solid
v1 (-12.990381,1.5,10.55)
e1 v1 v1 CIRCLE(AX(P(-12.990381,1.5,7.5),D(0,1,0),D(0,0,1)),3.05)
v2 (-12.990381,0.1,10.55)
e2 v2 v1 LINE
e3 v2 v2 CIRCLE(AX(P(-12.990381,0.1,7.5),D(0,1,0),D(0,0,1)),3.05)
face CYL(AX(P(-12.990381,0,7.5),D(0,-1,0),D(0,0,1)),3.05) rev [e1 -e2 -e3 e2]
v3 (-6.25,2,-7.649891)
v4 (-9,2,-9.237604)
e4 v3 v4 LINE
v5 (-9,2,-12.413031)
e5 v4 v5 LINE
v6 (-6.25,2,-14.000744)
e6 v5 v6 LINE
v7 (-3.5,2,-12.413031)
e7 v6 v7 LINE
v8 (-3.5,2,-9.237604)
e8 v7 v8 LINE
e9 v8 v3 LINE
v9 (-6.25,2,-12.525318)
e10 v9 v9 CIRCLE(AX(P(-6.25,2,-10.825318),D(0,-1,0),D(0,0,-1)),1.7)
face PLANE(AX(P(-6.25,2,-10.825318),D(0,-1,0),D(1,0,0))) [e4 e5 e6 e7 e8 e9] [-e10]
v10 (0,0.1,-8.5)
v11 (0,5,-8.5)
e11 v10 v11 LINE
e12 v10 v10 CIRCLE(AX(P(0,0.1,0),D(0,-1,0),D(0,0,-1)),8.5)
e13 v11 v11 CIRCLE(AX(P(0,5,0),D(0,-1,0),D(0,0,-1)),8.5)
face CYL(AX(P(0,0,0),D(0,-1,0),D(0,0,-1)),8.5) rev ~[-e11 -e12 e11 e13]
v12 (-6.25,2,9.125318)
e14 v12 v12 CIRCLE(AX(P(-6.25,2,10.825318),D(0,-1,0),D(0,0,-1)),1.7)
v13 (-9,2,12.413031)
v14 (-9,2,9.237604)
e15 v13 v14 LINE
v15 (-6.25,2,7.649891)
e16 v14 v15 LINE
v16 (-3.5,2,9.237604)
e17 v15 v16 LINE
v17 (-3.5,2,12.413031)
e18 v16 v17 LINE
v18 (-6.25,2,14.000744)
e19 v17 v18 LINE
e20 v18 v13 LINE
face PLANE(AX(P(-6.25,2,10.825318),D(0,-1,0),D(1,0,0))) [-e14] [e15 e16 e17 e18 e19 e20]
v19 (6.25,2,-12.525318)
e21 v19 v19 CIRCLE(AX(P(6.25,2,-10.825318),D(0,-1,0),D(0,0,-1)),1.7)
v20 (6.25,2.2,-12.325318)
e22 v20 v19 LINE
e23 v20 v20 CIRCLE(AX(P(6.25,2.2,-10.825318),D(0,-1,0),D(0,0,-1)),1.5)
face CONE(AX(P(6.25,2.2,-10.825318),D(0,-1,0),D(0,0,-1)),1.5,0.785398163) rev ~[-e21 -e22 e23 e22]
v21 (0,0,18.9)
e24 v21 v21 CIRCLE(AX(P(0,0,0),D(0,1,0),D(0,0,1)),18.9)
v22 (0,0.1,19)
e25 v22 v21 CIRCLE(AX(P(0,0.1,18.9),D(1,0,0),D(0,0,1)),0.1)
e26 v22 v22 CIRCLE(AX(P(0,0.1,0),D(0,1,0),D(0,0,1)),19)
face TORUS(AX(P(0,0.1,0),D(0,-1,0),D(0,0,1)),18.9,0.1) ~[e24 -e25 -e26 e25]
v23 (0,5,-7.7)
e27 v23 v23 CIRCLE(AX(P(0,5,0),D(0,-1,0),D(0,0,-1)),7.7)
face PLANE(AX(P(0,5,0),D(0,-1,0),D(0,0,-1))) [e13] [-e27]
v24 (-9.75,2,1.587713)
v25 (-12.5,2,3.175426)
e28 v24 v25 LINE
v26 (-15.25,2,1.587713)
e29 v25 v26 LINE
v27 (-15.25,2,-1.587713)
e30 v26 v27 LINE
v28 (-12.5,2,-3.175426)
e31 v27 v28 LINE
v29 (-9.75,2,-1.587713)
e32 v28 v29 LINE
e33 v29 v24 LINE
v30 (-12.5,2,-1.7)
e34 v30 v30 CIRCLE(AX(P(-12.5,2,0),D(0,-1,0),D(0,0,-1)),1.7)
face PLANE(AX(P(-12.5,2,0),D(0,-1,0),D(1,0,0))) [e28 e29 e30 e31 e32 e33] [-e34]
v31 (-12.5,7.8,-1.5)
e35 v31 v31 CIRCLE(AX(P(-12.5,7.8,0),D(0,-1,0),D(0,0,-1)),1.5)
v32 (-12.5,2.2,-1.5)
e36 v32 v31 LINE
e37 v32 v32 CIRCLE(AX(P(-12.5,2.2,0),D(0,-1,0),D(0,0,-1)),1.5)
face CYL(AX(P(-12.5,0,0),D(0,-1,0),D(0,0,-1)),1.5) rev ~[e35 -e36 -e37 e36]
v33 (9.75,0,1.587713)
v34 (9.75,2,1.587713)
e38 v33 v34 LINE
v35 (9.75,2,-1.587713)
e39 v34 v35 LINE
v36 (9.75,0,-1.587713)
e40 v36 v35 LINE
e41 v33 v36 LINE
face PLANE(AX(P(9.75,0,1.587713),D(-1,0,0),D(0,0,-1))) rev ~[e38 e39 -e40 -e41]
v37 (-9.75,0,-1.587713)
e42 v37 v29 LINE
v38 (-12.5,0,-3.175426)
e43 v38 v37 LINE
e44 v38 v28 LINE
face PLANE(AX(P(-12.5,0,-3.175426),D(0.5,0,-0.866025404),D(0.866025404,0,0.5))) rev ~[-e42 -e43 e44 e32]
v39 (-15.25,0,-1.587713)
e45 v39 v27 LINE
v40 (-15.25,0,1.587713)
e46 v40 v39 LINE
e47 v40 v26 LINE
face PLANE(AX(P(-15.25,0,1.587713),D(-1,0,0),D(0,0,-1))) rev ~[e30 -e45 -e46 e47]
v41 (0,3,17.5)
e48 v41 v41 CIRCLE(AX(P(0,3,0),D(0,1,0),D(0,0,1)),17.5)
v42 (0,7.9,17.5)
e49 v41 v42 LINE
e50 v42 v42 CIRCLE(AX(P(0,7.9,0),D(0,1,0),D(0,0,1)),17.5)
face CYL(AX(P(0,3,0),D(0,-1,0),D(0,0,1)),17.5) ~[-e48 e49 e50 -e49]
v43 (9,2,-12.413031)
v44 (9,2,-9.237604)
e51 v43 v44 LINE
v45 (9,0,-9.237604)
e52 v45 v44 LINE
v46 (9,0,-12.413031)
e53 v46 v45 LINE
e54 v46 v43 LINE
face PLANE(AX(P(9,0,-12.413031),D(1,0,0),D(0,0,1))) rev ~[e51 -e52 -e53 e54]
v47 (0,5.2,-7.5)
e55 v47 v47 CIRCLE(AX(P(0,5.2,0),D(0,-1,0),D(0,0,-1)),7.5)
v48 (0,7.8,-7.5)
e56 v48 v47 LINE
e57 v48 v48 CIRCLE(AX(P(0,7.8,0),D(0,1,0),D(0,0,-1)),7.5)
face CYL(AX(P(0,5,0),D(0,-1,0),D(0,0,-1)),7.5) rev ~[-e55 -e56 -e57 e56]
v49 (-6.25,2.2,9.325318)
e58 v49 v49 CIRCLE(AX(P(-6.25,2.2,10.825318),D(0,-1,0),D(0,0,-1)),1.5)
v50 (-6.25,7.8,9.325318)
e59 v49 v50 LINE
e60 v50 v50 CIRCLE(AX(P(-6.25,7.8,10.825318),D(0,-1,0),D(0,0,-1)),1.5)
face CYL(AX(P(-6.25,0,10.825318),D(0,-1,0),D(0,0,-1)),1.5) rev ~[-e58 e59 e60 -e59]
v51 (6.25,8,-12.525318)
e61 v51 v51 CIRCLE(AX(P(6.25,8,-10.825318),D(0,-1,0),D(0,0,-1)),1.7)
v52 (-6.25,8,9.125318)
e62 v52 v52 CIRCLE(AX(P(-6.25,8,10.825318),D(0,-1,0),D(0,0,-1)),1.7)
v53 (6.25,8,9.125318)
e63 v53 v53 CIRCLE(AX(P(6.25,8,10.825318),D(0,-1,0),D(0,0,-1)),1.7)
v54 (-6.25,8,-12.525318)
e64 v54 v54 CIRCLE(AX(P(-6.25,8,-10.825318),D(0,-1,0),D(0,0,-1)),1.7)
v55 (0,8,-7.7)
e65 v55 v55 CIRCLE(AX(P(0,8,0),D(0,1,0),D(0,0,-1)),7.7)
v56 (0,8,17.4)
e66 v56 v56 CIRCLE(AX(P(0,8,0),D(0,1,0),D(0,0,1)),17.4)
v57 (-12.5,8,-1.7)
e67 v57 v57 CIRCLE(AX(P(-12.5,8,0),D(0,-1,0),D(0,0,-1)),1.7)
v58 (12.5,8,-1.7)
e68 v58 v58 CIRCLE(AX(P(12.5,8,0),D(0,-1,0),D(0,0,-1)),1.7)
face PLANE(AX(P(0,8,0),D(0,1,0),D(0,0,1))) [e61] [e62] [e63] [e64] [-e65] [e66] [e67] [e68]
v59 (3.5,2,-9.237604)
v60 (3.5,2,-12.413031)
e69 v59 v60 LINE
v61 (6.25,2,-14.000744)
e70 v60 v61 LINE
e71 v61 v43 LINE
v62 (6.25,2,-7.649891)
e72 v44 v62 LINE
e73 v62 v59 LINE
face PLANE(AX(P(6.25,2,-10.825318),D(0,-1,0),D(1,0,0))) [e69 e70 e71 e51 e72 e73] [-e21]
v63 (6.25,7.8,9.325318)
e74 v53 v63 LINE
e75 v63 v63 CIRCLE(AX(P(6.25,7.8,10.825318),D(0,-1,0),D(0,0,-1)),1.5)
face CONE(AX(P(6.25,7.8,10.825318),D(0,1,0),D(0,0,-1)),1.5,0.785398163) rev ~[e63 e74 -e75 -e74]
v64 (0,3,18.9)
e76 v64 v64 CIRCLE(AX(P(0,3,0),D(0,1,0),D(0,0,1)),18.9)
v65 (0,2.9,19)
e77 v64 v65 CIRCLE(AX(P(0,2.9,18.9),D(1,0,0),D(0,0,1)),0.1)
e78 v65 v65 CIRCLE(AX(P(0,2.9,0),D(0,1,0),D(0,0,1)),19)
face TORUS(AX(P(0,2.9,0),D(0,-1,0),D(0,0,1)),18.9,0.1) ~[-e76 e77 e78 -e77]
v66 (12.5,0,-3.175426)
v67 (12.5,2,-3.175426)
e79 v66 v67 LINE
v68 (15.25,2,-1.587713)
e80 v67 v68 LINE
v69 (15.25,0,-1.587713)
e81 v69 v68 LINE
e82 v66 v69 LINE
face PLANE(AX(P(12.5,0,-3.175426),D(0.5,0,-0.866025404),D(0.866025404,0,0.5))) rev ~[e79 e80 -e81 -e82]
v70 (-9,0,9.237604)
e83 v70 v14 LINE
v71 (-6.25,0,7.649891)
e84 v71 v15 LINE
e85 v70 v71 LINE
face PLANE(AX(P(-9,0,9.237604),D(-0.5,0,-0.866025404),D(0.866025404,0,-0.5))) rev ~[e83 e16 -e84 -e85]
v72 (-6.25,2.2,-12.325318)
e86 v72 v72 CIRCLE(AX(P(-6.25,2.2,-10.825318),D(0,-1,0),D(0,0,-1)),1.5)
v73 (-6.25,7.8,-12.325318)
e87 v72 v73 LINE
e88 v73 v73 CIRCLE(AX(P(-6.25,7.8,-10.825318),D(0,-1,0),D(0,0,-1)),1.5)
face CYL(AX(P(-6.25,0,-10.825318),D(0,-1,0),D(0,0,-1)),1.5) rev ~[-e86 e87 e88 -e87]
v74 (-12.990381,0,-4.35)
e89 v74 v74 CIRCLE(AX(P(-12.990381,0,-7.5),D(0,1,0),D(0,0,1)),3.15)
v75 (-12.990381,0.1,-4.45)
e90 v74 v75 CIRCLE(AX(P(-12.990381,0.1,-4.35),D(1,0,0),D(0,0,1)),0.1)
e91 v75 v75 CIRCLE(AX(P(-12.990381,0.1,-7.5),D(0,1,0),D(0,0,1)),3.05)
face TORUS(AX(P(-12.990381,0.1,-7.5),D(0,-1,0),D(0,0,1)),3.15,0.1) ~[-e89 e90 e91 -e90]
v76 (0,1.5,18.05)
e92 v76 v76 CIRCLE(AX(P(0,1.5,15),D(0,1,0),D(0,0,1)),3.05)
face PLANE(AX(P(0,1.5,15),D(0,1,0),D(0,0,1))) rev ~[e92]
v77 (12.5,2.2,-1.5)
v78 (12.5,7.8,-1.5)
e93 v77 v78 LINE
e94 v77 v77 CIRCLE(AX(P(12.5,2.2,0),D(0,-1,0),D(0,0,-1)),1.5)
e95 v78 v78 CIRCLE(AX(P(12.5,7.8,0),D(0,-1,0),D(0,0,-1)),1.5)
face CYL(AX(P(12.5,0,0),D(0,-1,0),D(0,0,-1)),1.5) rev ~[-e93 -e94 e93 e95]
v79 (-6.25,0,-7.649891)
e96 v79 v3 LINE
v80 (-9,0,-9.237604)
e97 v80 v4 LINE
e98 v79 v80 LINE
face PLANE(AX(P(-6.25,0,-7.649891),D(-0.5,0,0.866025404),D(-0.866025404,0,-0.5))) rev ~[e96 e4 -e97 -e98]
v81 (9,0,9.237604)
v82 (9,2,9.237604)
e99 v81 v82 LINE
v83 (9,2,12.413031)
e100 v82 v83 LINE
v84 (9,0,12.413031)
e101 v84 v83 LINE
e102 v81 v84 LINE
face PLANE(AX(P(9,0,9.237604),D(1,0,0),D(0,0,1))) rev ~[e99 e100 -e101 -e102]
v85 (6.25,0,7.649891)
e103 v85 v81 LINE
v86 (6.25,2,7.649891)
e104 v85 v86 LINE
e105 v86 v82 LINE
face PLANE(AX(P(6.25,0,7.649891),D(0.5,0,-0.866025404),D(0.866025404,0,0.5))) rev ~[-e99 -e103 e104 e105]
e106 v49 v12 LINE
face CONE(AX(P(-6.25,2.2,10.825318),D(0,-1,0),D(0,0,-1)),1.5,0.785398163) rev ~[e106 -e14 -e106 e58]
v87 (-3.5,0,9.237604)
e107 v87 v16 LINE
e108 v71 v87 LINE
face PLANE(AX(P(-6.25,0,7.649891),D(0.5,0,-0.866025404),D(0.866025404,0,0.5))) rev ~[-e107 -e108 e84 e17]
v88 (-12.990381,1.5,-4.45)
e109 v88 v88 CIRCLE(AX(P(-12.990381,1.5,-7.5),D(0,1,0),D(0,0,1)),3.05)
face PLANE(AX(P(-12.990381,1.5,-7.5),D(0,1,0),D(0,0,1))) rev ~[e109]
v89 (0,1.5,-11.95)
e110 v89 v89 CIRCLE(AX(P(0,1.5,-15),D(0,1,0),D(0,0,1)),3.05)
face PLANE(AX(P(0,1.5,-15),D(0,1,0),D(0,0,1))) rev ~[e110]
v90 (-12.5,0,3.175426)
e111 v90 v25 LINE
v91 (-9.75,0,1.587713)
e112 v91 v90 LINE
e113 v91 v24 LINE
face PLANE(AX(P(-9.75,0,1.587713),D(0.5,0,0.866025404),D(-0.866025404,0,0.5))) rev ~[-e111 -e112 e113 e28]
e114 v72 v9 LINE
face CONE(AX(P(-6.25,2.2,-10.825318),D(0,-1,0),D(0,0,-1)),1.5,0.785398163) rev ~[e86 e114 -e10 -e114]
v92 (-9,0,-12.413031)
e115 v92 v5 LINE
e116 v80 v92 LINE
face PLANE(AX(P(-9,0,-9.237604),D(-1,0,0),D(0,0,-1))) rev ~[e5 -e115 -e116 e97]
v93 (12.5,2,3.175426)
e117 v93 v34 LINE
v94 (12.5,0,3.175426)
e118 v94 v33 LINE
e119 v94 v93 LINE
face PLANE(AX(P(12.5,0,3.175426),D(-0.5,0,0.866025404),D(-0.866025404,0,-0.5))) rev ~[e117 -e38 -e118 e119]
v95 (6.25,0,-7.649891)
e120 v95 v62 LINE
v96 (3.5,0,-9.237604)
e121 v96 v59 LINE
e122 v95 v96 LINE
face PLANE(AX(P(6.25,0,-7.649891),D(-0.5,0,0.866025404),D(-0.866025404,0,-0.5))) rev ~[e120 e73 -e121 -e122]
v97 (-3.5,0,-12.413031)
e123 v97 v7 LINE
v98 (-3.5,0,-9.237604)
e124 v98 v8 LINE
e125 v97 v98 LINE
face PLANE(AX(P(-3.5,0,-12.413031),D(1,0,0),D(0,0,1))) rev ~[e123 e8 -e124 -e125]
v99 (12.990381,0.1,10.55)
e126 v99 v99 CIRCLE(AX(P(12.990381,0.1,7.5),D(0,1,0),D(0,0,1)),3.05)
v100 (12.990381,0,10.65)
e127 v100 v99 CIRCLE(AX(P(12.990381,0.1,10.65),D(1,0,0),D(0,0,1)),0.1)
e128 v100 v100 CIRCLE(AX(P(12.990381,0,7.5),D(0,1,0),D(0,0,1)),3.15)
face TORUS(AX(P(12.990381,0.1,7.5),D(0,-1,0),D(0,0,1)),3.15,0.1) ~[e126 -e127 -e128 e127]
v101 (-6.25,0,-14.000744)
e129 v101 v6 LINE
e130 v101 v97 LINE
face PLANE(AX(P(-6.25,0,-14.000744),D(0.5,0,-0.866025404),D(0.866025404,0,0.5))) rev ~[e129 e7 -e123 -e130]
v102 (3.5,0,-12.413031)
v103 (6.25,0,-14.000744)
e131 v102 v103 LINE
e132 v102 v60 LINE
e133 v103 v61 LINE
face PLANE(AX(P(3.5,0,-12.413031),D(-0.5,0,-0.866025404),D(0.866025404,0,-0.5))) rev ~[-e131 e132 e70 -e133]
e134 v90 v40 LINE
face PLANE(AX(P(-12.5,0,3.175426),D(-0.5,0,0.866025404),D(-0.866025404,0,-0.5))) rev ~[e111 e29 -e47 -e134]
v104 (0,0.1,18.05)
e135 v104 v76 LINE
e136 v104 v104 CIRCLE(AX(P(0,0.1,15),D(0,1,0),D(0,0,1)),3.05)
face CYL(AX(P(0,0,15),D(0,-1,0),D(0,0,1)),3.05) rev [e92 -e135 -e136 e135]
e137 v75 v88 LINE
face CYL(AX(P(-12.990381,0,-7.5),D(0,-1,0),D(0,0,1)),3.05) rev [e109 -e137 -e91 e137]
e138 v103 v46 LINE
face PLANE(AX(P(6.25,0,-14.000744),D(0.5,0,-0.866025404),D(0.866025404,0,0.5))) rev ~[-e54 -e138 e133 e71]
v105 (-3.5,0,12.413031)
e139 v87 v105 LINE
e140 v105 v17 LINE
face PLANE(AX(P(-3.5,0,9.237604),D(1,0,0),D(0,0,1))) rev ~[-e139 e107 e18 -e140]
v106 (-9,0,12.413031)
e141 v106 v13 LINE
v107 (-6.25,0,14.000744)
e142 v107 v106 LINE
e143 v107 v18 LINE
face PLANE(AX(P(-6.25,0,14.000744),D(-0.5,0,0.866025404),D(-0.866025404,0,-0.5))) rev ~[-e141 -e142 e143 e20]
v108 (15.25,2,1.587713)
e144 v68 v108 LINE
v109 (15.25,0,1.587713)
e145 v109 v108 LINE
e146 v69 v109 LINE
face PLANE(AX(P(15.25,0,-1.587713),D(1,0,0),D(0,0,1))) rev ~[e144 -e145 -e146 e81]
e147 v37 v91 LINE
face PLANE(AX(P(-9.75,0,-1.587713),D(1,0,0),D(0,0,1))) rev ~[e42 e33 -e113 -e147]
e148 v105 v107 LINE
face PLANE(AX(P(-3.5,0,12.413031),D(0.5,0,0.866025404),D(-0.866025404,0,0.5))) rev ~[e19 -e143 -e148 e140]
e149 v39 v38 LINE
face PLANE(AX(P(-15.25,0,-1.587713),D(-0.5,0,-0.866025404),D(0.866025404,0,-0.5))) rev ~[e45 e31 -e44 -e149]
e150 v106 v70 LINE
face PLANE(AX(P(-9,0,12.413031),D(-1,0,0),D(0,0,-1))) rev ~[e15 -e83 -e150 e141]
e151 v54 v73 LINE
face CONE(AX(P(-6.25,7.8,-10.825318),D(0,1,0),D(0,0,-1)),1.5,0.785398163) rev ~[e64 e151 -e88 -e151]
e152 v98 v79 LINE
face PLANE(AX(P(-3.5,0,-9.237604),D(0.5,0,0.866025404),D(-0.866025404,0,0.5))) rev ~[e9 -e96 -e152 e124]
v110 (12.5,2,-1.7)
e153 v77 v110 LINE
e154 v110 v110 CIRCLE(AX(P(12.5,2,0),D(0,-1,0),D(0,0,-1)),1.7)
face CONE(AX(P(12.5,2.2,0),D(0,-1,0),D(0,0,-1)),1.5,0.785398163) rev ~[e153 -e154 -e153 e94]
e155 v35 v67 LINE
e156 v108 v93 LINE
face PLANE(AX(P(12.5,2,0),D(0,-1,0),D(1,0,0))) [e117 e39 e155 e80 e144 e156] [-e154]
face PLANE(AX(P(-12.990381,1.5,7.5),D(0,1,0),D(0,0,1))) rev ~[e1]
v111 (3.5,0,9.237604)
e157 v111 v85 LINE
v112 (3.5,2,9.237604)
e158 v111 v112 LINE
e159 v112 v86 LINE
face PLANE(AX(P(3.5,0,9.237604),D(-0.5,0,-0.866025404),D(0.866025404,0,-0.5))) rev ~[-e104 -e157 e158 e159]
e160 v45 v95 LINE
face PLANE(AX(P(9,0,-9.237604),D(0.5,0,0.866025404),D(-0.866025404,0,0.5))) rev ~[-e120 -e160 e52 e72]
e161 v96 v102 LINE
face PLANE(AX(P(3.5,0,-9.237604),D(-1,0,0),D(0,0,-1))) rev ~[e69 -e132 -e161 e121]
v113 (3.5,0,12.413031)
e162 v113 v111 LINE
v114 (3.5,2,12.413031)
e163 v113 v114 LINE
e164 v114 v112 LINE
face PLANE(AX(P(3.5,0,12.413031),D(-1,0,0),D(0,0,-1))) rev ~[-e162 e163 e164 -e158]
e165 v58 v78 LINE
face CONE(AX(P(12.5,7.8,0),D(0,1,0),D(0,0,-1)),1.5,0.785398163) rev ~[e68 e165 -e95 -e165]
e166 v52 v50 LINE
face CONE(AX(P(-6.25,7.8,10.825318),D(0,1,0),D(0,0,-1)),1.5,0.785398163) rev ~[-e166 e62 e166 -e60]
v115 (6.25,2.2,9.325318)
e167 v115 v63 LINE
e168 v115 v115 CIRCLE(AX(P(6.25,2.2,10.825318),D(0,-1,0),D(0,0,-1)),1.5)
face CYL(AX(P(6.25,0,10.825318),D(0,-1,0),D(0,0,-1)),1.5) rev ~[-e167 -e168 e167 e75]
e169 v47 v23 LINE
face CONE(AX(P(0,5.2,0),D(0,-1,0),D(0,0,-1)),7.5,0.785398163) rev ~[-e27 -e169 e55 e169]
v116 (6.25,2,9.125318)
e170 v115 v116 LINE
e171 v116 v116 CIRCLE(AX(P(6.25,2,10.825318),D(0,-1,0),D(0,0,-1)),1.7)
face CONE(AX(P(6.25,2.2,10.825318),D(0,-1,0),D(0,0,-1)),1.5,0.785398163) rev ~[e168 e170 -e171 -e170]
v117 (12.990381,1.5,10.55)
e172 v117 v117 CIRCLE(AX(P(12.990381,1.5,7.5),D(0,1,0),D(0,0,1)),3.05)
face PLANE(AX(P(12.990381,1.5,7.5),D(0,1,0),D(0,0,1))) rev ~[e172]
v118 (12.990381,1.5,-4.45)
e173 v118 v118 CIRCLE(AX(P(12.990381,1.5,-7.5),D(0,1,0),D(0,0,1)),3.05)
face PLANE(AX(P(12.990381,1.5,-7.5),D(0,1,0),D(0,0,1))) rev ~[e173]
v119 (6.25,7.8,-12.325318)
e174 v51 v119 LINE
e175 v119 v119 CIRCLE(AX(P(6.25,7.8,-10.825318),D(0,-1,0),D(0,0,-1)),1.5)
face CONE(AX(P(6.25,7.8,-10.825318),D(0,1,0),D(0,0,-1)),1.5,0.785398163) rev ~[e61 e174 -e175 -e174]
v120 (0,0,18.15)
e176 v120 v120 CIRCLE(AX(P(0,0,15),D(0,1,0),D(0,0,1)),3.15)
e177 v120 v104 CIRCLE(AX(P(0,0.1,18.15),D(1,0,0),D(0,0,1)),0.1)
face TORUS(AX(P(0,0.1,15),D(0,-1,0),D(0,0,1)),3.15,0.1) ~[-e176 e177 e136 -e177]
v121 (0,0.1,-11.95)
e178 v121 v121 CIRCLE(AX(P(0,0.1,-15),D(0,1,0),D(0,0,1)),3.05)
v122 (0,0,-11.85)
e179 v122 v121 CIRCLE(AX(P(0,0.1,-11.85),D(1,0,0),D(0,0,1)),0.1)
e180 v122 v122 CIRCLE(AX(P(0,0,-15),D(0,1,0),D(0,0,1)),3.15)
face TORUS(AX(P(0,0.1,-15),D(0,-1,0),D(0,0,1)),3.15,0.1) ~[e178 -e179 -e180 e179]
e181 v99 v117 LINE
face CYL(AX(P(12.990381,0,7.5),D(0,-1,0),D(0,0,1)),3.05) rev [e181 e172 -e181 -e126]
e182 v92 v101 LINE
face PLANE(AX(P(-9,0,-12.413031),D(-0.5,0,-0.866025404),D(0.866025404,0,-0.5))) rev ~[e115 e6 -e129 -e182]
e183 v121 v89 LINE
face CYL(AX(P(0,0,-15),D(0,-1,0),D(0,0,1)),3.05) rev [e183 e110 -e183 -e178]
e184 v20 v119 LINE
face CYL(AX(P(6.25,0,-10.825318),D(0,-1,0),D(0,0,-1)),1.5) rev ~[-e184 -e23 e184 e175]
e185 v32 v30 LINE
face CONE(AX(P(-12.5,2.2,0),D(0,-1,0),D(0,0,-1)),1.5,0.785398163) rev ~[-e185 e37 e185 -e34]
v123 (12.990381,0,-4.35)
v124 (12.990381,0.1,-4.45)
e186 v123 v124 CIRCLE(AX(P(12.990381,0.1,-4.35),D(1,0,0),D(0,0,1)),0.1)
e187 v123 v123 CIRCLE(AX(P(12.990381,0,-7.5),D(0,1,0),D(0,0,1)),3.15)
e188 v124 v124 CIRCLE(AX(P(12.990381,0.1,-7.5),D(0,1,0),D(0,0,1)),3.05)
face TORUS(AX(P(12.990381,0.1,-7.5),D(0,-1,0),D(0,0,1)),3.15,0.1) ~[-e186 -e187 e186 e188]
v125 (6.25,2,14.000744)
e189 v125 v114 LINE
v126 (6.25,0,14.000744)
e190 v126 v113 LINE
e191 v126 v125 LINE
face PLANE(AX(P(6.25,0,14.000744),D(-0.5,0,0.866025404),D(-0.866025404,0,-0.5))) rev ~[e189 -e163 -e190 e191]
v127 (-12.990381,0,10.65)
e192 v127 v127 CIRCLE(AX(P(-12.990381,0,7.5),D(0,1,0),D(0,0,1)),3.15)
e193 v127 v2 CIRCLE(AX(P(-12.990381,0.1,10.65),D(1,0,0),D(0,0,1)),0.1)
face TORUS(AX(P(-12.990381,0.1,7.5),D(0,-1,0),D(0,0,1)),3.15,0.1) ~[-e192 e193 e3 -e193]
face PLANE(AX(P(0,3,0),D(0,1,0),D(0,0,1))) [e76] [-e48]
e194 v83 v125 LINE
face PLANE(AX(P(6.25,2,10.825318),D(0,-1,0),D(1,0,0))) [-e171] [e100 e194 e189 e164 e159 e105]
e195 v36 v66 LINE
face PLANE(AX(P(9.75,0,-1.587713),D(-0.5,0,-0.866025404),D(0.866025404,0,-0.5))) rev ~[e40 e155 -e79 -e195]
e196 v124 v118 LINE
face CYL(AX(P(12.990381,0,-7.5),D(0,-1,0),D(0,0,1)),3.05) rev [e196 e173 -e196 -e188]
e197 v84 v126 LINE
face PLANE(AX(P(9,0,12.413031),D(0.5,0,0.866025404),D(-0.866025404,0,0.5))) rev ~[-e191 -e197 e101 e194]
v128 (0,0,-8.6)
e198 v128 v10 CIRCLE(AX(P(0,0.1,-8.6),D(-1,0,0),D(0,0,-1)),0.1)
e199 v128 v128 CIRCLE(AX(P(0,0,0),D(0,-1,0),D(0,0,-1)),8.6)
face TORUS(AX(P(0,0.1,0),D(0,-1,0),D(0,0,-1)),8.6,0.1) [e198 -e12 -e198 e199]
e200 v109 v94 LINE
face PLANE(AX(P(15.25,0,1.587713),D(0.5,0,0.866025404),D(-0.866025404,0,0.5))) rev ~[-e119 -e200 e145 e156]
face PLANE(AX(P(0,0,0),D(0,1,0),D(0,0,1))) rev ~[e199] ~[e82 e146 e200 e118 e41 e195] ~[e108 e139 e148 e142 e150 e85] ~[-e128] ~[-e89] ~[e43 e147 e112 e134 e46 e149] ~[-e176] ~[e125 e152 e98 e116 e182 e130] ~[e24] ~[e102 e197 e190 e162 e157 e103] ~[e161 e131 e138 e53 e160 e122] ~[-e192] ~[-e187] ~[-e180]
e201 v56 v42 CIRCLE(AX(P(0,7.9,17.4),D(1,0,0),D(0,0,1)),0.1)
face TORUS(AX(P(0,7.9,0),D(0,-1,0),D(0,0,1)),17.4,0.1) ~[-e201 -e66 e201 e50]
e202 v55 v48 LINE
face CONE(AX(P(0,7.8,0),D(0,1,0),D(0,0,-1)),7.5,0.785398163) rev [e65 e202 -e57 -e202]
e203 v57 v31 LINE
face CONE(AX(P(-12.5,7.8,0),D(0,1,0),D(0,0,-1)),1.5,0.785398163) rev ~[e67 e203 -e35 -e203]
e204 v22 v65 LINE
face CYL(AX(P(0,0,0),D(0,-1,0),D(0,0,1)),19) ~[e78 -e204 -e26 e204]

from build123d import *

# Parameters (mm, degrees)
SKETCH_1_R          = 19
EXTRUDE_1_DEPTH     = 3
SKETCH_1_3_R        = 3.05
CUT_EXTRUDE_1_DEPTH = 1.5
SKETCH_5_R          = 17.5
EXTRUDE_3_DEPTH     = 5
SKETCH_7_R          = 8.5
CUT_EXTRUDE_2_DEPTH = 5
SKETCH_8_R          = 7.5
CUT_EXTRUDE_3_DEPTH = 0.5
CUT_EXTRUDE_4_REACH = 30.036
SKETCH_10_R         = 1.5
CUT_EXTRUDE_5_DEPTH = 2
CUT_EXTRUDE_6_REACH = 30.036
SKETCH_12_R         = 7.5
CHAMFER_1_SIZE      = 0.2
FILLET_1_R          = 0.1
FILLET_2_R          = 0.1


with BuildPart() as part:
    # 草图1 → 凸台-拉伸1 (new body)
    with BuildSketch(Plane(origin=(0, 0, 0), x_dir=(1, 0, 0), z_dir=(0, 1, 0))):
        Circle(SKETCH_1_R)
    extrude(amount=EXTRUDE_1_DEPTH)

    # 草图1<3> → 切除-拉伸1 (cut)
    with BuildSketch(Plane(origin=(0, 0, 0), x_dir=(1, 0, 0), z_dir=(0, 1, 0))):
        with Locations((0, 15)):
            Circle(SKETCH_1_3_R)
        with Locations((12.990381057, 7.5)):
            Circle(SKETCH_1_3_R)
        with Locations((12.990381057, -7.5)):
            Circle(SKETCH_1_3_R)
        with Locations((0, -15)):
            Circle(SKETCH_1_3_R)
        with Locations((-12.990381057, -7.5)):
            Circle(SKETCH_1_3_R)
        with Locations((-12.990381057, 7.5)):
            Circle(SKETCH_1_3_R)
    extrude(amount=CUT_EXTRUDE_1_DEPTH, mode=Mode.SUBTRACT)

    # 草图5 → 凸台-拉伸3 (add)
    with BuildSketch(Plane(origin=(0, 3, 0), x_dir=(1, 0, 0), z_dir=(0, 1, 0))):
        Circle(SKETCH_5_R)
    extrude(amount=EXTRUDE_3_DEPTH)

    # 草图7 → 切除-拉伸2 (cut)
    with BuildSketch(Plane.XZ):
        Circle(SKETCH_7_R)
    extrude(amount=-CUT_EXTRUDE_2_DEPTH, mode=Mode.SUBTRACT)

    # 草图8 → 切除-拉伸3 (cut)
    with BuildSketch(Plane.XZ.offset(-5)):
        Circle(SKETCH_8_R)
    extrude(amount=-CUT_EXTRUDE_3_DEPTH, mode=Mode.SUBTRACT)

    # 草图10 → 切除-拉伸4 (cut, up to next)
    with BuildSketch(Plane.XZ, mode=Mode.PRIVATE) as cut_extrude_4_sk1:
        with Locations((6.25, 10.825317547)):
            Circle(SKETCH_10_R)
    cut_extrude_4_tool1 = extrude(cut_extrude_4_sk1.sketch, amount=-CUT_EXTRUDE_4_REACH, mode=Mode.PRIVATE) & part.part
    # 草图10 → 切除-拉伸4 (cut, up to next)
    with BuildSketch(Plane.XZ, mode=Mode.PRIVATE) as cut_extrude_4_sk2:
        with Locations((12.5, 0)):
            Circle(SKETCH_10_R)
    cut_extrude_4_tool2 = extrude(cut_extrude_4_sk2.sketch, amount=-CUT_EXTRUDE_4_REACH, mode=Mode.PRIVATE) & part.part
    # 草图10 → 切除-拉伸4 (cut, up to next)
    with BuildSketch(Plane.XZ, mode=Mode.PRIVATE) as cut_extrude_4_sk3:
        with Locations((6.25, -10.825317547)):
            Circle(SKETCH_10_R)
    cut_extrude_4_tool3 = extrude(cut_extrude_4_sk3.sketch, amount=-CUT_EXTRUDE_4_REACH, mode=Mode.PRIVATE) & part.part
    # 草图10 → 切除-拉伸4 (cut, up to next)
    with BuildSketch(Plane.XZ, mode=Mode.PRIVATE) as cut_extrude_4_sk4:
        with Locations((-6.25, -10.825317547)):
            Circle(SKETCH_10_R)
    cut_extrude_4_tool4 = extrude(cut_extrude_4_sk4.sketch, amount=-CUT_EXTRUDE_4_REACH, mode=Mode.PRIVATE) & part.part
    # 草图10 → 切除-拉伸4 (cut, up to next)
    with BuildSketch(Plane.XZ, mode=Mode.PRIVATE) as cut_extrude_4_sk5:
        with Locations((-12.5, 0)):
            Circle(SKETCH_10_R)
    cut_extrude_4_tool5 = extrude(cut_extrude_4_sk5.sketch, amount=-CUT_EXTRUDE_4_REACH, mode=Mode.PRIVATE) & part.part
    # 草图10 → 切除-拉伸4 (cut, up to next)
    with BuildSketch(Plane.XZ, mode=Mode.PRIVATE) as cut_extrude_4_sk6:
        with Locations((-6.25, 10.825317547)):
            Circle(SKETCH_10_R)
    cut_extrude_4_tool6 = extrude(cut_extrude_4_sk6.sketch, amount=-CUT_EXTRUDE_4_REACH, mode=Mode.PRIVATE) & part.part
    add(cut_extrude_4_tool1.solids().sort_by_distance((6.25, 0, 10.825318))[0], mode=Mode.SUBTRACT)
    add(cut_extrude_4_tool2.solids().sort_by_distance((12.5, 0, 0))[0], mode=Mode.SUBTRACT)
    add(cut_extrude_4_tool3.solids().sort_by_distance((6.25, 0, -10.825318))[0], mode=Mode.SUBTRACT)
    add(cut_extrude_4_tool4.solids().sort_by_distance((-6.25, 0, -10.825318))[0], mode=Mode.SUBTRACT)
    add(cut_extrude_4_tool5.solids().sort_by_distance((-12.5, 0, 0))[0], mode=Mode.SUBTRACT)
    add(cut_extrude_4_tool6.solids().sort_by_distance((-6.25, 0, 10.825318))[0], mode=Mode.SUBTRACT)

    # 草图11 → 切除-拉伸5 (cut)
    with BuildSketch(Plane.XZ):
        Polygon((6.25, -14.000744028), (9, -12.413030788), (9, -9.237604307), (6.25, -7.649891067), (3.5, -9.237604307), (3.5, -12.413030788), align=None)
        Polygon((15.25, -1.58771324), (15.25, 1.58771324), (12.5, 3.175426481), (9.75, 1.58771324), (9.75, -1.58771324), (12.5, -3.175426481), align=None)
        Polygon((-9, -12.413030788), (-6.25, -14.000744028), (-3.5, -12.413030788), (-3.5, -9.237604307), (-6.25, -7.649891067), (-9, -9.237604307), align=None)
        Polygon((-15.25, 1.58771324), (-15.25, -1.58771324), (-12.5, -3.175426481), (-9.75, -1.58771324), (-9.75, 1.58771324), (-12.5, 3.175426481), align=None)
        Polygon((-6.25, 14.000744028), (-9, 12.413030788), (-9, 9.237604307), (-6.25, 7.649891067), (-3.5, 9.237604307), (-3.5, 12.413030788), align=None)
        Polygon((9, 12.413030788), (6.25, 14.000744028), (3.5, 12.413030788), (3.5, 9.237604307), (6.25, 7.649891067), (9, 9.237604307), align=None)
    extrude(amount=-CUT_EXTRUDE_5_DEPTH, mode=Mode.SUBTRACT)

    # 草图12 → 切除-拉伸6 (cut, up to next)
    with BuildSketch(Plane(origin=(0, 8, 0), x_dir=(1, 0, 0), z_dir=(0, 1, 0)), mode=Mode.PRIVATE) as cut_extrude_6_sk1:
        Circle(SKETCH_12_R)
    cut_extrude_6_tool1 = extrude(cut_extrude_6_sk1.sketch, amount=-CUT_EXTRUDE_6_REACH, mode=Mode.PRIVATE) & part.part
    add(cut_extrude_6_tool1.solids().sort_by_distance((0, 8, 0))[0], mode=Mode.SUBTRACT)

    # 倒角1
    chamfer_1_edges = [part.edges().sort_by_distance(p)[0] for p in [
        (-14, 2, 0),
        (-14, 8, 0),
        (-7.75, 2, 10.825317547),
        (-7.75, 8, 10.825317547),
        (4.75, 2, 10.825317547),
        (4.75, 8, 10.825317547),
        (11, 2, 0),
        (11, 8, 0),
        (4.75, 2, -10.825317547),
        (4.75, 8, -10.825317547),
        (-7.75, 2, -10.825317547),
        (-7.75, 8, -10.825317547),
        (-7.5, 8, 0),
        (-7.5, 5, 0),
    ]]
    chamfer(chamfer_1_edges, length=CHAMFER_1_SIZE)

    # 圆角1
    fillet_1_edges = [part.edges().sort_by_distance(p)[0] for p in [
        (-19, 0, 0),
        (-19, 3, 0),
        (-8.5, 0, 0),
        (-17.5, 8, 0),
    ]]
    fillet(fillet_1_edges, radius=FILLET_1_R)

    # 圆角2
    fillet_2_edges = [part.edges().sort_by_distance(p)[0] for p in [
        (9.940381057, 0, 7.5),
        (9.940381057, 0, -7.5),
        (-3.05, 0, -15),
        (-16.040381057, 0, -7.5),
        (-16.040381057, 0, 7.5),
        (-3.05, 0, 15),
    ]]
    fillet(fillet_2_edges, radius=FILLET_2_R)


solid = part.part
